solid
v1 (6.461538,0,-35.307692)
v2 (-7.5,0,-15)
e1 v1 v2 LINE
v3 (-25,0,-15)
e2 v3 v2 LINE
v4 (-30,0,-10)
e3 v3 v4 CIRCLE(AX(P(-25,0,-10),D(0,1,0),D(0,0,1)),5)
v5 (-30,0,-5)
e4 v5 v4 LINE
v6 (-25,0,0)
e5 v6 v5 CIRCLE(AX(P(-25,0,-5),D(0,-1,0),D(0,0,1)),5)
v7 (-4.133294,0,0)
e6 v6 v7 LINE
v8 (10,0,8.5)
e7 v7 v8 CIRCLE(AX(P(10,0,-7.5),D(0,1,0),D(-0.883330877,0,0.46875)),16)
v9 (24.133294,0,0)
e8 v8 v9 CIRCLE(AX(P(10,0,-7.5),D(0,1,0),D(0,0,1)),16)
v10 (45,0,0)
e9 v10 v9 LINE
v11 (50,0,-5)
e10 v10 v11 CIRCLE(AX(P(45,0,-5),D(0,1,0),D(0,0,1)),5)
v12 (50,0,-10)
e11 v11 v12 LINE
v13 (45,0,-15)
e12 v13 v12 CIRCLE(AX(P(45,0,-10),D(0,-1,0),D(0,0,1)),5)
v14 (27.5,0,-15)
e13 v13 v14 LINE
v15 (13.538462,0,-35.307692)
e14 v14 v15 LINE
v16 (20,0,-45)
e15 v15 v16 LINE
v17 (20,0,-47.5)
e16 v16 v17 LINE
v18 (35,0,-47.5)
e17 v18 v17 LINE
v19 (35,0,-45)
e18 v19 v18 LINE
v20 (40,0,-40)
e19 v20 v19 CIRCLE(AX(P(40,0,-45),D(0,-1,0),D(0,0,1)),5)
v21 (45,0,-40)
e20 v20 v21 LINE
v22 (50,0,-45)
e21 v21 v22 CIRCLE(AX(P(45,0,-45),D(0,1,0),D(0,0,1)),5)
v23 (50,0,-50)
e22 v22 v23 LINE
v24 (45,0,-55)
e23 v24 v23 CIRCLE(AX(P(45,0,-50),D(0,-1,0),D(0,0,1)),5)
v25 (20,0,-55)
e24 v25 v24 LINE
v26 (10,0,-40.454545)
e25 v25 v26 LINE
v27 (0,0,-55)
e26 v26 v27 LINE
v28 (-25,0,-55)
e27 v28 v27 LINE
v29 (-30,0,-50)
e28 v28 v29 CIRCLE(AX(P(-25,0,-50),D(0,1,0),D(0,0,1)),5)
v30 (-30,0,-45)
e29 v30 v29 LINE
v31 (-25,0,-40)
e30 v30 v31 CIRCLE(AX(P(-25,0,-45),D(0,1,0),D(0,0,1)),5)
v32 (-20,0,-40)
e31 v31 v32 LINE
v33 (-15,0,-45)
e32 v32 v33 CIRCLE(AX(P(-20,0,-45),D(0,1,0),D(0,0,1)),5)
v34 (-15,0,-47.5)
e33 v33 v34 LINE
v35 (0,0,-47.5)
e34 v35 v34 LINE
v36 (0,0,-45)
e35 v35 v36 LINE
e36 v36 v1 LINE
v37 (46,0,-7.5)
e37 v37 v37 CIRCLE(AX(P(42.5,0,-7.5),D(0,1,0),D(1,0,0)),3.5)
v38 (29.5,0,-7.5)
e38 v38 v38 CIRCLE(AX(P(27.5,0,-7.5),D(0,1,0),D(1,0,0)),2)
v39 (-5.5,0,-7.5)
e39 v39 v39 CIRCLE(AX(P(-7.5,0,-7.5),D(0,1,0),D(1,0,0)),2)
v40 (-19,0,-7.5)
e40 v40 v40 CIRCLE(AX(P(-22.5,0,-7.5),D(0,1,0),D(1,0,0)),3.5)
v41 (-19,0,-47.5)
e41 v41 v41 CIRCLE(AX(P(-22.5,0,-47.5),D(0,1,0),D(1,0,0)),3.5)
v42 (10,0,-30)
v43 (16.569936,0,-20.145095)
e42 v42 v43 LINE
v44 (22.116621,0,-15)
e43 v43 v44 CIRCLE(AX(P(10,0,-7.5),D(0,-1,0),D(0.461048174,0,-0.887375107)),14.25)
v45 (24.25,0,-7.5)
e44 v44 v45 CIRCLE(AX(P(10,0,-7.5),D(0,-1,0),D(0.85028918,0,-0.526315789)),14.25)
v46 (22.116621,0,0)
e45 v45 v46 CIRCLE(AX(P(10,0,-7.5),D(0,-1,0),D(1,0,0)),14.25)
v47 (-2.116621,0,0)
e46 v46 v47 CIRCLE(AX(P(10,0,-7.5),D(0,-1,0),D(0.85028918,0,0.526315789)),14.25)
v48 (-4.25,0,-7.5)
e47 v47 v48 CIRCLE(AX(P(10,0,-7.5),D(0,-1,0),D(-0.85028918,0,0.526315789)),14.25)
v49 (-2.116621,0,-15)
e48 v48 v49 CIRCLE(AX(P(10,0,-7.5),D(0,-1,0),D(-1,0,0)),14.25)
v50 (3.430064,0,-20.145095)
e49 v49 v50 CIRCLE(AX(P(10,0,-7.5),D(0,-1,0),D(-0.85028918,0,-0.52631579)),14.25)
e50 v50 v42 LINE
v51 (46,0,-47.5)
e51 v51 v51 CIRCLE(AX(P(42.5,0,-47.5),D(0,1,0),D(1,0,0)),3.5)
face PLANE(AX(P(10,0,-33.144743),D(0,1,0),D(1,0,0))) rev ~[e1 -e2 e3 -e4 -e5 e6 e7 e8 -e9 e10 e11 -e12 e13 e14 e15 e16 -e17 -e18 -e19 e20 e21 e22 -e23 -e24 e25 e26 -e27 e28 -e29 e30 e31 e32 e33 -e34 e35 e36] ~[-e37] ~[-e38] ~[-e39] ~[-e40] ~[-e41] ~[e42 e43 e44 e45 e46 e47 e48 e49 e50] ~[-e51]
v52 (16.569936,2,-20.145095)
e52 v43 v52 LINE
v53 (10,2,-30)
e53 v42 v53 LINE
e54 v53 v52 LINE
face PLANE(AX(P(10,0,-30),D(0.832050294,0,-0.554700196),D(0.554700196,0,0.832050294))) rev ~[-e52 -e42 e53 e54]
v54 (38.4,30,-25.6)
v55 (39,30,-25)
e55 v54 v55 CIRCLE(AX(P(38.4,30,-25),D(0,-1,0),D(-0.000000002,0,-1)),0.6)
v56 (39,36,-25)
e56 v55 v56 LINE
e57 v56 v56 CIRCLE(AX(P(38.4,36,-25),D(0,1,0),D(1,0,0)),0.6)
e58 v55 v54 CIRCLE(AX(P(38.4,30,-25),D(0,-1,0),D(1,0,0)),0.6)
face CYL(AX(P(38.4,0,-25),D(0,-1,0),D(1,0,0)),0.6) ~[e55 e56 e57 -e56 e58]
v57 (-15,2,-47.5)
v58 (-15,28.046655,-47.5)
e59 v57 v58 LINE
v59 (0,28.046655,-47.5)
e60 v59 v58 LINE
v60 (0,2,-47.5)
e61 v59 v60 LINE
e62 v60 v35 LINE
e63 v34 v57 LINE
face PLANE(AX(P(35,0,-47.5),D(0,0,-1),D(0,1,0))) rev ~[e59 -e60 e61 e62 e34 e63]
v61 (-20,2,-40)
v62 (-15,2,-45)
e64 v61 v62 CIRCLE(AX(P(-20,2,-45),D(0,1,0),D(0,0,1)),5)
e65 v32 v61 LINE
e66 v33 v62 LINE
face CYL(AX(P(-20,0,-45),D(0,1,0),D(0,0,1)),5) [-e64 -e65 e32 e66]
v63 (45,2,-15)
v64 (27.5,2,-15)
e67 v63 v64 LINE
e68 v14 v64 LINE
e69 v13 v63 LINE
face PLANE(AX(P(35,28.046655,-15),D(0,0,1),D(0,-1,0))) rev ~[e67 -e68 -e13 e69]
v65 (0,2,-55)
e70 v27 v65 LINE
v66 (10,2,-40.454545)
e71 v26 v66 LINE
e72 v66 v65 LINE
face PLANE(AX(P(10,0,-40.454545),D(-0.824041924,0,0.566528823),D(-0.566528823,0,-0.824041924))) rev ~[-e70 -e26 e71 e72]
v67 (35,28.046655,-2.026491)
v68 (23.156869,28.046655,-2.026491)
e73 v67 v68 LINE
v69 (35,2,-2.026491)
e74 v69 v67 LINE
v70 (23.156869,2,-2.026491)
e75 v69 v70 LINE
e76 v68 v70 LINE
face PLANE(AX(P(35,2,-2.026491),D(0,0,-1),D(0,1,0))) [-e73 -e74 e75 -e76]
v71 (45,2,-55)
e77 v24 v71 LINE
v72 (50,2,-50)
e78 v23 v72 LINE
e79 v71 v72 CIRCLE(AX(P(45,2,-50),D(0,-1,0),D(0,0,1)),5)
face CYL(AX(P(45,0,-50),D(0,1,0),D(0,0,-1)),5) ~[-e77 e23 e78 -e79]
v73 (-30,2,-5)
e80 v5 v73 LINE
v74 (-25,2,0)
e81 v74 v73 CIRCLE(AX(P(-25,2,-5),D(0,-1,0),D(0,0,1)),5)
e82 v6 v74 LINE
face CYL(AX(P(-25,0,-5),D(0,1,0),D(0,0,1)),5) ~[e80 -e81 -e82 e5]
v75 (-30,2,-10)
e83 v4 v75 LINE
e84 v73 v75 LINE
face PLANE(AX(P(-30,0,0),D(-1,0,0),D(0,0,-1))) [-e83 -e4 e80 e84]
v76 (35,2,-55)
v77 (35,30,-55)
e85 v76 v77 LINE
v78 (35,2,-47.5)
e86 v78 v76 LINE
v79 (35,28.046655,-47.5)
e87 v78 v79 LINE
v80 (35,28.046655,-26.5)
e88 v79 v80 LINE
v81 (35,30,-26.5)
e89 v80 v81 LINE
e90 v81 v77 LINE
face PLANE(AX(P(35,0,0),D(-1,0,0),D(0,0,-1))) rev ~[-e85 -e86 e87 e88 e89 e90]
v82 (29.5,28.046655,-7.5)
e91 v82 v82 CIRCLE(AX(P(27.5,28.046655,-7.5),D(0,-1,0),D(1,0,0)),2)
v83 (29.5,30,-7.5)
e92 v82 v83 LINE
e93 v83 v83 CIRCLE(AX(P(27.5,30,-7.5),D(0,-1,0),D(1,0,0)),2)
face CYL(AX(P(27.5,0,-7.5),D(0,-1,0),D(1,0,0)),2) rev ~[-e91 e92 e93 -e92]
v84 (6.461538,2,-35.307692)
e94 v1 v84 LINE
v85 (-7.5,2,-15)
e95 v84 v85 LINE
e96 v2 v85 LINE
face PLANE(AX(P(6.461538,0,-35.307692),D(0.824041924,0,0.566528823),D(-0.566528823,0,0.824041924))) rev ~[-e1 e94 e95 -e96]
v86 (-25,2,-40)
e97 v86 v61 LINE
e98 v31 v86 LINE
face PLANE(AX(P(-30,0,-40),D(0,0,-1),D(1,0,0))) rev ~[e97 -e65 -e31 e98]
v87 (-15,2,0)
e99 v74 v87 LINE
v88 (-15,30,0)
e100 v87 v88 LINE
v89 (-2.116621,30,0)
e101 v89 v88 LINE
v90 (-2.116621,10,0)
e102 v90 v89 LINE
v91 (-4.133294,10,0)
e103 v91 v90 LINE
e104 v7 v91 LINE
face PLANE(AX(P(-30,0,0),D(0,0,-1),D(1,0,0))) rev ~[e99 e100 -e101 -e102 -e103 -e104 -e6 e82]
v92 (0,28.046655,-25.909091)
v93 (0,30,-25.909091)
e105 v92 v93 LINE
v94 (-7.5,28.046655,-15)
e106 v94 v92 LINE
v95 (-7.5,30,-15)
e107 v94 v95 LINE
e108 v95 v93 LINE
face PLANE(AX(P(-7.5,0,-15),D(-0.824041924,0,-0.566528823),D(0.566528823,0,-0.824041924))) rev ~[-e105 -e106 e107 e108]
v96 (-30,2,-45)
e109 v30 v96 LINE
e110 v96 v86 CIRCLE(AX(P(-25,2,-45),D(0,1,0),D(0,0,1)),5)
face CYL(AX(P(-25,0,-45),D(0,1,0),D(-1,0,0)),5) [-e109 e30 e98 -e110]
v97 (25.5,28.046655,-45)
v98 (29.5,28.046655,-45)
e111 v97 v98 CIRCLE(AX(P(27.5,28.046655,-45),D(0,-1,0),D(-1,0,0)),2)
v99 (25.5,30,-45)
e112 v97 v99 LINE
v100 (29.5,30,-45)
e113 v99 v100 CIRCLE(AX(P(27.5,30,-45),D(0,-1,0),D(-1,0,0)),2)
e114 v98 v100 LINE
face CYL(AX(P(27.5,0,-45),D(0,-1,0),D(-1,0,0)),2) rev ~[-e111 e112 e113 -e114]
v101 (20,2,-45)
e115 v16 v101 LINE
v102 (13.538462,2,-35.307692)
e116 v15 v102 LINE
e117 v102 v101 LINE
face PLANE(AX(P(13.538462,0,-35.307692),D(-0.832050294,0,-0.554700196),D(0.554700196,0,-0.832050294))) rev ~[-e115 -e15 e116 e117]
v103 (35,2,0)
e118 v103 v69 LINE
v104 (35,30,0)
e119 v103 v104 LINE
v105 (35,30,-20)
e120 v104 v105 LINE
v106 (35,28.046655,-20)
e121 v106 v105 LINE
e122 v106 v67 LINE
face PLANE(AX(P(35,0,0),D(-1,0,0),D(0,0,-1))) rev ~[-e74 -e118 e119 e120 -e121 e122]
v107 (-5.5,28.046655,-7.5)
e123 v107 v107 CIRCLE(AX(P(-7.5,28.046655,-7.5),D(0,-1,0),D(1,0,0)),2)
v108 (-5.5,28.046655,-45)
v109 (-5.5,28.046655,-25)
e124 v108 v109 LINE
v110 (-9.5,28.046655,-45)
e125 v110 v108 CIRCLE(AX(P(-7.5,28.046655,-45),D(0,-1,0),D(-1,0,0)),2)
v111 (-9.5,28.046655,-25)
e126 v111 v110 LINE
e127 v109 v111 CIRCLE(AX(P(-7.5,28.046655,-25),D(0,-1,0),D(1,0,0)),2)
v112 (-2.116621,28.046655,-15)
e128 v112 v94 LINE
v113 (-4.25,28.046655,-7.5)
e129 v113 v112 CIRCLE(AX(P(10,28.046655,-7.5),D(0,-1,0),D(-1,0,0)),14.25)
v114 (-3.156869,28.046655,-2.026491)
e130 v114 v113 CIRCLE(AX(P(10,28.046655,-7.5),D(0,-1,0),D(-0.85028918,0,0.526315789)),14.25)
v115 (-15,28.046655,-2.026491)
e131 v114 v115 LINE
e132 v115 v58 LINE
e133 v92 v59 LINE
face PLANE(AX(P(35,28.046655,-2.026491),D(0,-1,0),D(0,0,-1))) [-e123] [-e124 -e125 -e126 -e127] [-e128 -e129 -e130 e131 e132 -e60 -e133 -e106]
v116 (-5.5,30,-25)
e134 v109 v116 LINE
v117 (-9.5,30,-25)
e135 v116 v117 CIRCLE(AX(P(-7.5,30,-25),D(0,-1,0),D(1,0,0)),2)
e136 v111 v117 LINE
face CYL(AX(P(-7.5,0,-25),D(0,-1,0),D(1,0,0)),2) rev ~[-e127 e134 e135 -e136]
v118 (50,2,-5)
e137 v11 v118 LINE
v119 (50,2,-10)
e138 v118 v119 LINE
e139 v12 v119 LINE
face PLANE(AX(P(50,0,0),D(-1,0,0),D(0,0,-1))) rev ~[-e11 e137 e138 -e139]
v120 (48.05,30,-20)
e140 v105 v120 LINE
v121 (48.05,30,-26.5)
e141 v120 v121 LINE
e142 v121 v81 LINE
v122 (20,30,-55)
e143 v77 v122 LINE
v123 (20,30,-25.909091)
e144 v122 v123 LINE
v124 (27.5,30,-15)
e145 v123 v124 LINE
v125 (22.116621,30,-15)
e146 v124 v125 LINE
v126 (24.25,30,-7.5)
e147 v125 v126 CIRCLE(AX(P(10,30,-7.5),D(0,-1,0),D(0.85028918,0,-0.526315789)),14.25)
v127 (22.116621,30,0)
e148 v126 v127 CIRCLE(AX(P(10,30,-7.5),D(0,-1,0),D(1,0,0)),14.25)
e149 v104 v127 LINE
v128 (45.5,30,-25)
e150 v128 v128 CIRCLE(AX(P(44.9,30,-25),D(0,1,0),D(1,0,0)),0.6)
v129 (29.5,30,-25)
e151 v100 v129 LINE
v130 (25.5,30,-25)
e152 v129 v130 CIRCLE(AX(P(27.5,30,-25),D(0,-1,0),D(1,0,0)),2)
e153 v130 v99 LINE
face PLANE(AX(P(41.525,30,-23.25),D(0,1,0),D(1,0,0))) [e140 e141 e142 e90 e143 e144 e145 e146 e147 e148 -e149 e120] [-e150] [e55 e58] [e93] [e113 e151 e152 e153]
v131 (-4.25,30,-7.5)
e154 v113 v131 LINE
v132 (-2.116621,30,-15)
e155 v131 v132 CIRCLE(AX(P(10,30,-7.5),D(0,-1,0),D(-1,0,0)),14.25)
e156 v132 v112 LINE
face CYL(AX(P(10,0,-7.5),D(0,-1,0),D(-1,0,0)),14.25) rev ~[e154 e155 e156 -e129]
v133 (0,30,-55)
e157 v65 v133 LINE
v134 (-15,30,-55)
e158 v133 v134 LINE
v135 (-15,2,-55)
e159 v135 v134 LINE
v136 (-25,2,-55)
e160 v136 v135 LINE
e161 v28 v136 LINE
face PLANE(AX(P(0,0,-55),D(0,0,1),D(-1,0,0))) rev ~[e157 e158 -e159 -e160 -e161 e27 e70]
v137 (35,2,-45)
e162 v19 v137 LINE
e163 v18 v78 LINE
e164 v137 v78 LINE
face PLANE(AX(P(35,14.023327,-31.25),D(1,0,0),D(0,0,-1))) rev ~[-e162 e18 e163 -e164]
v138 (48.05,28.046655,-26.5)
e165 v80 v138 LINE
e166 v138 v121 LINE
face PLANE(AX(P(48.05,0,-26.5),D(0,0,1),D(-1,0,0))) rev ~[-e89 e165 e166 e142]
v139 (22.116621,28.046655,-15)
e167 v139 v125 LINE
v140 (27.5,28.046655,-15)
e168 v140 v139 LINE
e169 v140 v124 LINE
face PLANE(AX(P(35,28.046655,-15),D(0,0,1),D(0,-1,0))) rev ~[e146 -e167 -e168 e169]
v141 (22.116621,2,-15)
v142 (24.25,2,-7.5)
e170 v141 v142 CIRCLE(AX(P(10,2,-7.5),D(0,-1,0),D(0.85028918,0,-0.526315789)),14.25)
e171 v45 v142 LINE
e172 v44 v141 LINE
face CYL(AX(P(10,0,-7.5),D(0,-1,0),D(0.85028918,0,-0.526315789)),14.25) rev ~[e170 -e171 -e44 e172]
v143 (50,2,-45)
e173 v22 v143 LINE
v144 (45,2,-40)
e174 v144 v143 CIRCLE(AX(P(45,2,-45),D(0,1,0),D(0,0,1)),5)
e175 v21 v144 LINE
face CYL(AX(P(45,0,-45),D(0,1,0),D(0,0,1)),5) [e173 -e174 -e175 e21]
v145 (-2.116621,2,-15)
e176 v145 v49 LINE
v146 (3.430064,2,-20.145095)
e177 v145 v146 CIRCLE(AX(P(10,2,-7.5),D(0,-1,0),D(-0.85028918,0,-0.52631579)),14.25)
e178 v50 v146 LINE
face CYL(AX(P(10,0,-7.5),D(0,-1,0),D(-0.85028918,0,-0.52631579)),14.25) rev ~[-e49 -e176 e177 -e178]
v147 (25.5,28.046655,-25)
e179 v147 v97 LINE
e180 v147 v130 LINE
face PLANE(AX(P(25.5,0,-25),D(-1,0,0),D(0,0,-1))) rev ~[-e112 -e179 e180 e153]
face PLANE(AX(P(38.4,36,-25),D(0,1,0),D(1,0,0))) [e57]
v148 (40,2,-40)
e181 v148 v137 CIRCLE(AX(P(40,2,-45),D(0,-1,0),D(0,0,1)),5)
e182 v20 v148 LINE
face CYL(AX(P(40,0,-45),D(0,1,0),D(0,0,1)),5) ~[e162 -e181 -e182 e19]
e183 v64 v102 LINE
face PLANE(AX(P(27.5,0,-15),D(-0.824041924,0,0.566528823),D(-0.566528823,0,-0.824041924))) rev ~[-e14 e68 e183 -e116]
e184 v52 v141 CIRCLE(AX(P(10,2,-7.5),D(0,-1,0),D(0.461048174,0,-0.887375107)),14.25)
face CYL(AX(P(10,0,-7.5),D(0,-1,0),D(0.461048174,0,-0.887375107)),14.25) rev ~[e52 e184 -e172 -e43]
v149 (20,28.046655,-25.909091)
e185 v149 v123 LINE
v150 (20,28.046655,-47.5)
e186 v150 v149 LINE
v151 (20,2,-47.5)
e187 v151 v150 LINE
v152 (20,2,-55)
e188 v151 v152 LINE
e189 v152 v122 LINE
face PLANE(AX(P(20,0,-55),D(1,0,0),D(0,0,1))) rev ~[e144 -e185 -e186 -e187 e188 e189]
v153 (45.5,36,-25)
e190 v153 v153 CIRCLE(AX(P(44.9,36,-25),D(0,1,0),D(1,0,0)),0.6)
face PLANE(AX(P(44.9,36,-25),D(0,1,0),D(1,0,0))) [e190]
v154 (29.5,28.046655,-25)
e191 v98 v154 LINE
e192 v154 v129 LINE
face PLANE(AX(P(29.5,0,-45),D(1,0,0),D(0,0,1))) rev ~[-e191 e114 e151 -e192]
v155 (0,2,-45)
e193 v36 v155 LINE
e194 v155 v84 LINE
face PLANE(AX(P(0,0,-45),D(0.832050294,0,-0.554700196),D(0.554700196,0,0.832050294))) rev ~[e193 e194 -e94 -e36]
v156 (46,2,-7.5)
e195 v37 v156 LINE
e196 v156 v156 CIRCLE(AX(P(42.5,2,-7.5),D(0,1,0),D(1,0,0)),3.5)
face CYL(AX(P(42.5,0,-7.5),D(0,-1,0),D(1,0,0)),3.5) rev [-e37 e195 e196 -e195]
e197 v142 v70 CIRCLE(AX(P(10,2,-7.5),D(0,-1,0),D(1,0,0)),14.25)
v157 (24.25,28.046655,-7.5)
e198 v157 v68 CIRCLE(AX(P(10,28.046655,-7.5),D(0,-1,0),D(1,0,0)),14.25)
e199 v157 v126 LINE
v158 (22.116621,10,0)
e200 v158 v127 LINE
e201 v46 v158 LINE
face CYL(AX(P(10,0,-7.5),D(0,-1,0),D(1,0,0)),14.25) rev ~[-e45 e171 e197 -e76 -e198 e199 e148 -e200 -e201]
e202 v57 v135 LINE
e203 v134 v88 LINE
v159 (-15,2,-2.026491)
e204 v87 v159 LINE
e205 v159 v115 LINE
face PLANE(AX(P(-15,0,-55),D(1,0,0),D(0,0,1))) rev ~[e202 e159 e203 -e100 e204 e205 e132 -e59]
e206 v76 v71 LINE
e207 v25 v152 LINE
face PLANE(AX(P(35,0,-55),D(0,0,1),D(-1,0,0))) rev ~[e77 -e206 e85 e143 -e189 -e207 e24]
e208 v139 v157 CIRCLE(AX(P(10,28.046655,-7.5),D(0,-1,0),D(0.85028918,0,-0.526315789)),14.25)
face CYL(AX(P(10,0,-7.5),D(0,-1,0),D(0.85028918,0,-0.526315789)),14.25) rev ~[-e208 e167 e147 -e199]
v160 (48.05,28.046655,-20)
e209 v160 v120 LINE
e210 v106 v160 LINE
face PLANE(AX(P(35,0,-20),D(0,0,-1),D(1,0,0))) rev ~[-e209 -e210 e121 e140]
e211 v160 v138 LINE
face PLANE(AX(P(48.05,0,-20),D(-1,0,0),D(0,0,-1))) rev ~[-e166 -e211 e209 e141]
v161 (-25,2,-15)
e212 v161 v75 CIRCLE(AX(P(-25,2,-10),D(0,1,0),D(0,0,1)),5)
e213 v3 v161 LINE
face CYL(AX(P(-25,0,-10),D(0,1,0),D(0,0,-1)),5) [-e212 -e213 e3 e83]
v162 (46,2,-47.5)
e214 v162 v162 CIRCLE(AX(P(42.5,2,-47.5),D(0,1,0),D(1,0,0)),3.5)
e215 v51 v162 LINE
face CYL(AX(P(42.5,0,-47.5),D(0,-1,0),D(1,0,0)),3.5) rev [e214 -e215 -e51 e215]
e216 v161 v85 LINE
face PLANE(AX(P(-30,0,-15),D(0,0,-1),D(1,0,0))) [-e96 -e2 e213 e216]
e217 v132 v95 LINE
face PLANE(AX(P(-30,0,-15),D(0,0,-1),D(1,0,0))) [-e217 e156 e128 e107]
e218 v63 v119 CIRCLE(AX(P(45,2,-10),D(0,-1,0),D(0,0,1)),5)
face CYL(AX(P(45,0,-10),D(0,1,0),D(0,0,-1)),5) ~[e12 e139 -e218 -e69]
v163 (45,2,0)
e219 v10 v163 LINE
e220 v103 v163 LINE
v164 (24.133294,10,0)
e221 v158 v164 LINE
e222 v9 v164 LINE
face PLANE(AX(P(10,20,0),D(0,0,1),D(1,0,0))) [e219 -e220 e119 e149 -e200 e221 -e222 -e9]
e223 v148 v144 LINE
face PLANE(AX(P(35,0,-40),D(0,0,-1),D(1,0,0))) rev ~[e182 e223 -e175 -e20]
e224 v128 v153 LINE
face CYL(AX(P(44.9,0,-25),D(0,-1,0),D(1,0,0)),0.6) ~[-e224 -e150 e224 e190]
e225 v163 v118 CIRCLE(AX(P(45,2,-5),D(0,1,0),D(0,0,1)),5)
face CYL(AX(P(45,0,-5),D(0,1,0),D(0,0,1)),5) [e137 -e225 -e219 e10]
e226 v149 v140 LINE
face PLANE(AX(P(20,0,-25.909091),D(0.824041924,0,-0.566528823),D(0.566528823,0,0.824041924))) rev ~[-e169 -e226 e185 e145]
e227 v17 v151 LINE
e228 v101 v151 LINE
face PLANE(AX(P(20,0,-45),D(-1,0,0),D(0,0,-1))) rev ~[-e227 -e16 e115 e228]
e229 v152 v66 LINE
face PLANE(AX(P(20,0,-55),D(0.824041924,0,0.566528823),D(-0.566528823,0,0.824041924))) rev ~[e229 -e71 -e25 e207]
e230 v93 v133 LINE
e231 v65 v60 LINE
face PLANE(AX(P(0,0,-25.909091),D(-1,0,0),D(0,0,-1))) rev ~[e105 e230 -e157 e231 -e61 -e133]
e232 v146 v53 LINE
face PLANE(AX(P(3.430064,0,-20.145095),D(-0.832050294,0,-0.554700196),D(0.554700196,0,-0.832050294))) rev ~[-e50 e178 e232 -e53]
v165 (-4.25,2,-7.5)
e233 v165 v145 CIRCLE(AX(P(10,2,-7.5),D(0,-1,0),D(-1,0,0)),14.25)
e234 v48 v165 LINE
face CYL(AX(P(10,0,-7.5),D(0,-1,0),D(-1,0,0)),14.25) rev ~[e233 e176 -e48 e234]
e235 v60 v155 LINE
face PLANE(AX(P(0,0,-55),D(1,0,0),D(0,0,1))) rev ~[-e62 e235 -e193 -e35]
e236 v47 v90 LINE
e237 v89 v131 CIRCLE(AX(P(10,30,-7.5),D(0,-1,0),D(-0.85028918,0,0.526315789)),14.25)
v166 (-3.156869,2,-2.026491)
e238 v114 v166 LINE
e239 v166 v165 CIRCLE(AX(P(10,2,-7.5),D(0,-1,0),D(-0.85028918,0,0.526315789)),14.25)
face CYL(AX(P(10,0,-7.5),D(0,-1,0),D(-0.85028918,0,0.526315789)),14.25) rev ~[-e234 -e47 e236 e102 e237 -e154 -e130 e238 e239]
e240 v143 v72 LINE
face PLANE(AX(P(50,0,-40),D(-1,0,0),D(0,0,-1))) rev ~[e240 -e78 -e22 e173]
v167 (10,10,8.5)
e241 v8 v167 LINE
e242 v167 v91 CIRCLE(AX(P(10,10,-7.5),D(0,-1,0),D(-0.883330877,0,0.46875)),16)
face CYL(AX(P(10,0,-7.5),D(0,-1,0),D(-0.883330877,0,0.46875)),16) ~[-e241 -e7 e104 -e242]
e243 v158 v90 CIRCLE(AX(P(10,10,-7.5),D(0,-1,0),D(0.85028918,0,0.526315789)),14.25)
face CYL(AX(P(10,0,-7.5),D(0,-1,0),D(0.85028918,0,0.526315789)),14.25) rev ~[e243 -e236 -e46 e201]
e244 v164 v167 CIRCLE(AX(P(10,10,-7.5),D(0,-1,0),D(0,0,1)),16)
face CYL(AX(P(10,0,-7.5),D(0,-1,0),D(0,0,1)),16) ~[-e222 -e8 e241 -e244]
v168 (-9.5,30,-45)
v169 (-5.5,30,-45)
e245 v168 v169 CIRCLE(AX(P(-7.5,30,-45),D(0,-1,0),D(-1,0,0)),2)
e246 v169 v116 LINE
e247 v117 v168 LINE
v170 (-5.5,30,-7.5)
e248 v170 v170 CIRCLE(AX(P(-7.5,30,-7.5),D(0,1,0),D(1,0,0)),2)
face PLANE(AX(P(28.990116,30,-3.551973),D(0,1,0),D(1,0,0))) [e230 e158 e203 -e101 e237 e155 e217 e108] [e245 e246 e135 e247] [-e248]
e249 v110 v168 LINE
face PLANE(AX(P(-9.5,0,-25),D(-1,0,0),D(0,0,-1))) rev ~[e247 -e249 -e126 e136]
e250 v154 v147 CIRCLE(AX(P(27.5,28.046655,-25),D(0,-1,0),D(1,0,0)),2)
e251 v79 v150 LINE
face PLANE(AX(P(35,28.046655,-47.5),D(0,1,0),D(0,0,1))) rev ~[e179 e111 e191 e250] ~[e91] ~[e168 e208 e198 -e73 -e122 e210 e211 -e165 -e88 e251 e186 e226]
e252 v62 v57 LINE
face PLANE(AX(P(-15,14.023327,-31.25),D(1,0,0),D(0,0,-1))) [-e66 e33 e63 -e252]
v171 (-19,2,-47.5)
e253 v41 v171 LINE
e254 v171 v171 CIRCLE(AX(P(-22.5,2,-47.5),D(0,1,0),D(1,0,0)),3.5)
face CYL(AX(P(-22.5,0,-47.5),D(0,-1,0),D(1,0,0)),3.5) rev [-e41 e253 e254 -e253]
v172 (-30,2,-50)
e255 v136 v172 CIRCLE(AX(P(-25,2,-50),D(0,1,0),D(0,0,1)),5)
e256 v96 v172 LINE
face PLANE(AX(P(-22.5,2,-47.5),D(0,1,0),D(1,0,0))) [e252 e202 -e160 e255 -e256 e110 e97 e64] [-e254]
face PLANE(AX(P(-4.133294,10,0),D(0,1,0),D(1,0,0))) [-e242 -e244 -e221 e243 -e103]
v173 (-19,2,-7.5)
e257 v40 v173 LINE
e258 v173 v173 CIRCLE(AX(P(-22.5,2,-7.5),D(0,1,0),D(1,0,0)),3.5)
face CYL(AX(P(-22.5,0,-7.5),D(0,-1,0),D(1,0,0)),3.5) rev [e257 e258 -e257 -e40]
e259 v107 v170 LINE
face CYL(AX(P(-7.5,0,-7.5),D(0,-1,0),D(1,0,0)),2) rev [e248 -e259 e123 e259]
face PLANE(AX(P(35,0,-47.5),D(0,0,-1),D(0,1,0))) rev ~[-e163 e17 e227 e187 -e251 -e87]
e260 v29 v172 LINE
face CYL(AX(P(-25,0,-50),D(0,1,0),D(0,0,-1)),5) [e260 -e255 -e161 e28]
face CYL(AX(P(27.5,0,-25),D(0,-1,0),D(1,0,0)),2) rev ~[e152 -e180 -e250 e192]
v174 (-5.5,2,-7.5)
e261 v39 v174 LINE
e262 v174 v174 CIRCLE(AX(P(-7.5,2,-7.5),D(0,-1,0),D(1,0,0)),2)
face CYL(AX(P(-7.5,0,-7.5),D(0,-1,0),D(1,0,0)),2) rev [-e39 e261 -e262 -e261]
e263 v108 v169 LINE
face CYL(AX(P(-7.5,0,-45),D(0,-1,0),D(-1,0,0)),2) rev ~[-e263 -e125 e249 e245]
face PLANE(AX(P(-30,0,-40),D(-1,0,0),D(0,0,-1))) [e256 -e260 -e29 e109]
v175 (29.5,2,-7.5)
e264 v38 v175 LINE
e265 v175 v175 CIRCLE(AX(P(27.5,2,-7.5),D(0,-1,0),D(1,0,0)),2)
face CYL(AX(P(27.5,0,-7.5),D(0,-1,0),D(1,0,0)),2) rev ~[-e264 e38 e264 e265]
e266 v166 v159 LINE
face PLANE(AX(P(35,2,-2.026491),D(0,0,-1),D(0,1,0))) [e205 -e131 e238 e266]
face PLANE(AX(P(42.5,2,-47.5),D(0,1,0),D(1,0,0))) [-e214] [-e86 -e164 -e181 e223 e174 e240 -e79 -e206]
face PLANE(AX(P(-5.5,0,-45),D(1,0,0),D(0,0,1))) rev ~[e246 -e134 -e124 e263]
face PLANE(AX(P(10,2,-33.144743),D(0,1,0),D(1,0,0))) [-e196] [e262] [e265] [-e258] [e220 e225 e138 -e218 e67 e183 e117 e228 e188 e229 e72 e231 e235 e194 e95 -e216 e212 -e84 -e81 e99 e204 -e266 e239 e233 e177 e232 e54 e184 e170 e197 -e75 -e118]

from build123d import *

# Parameters (mm, degrees)
SKETCH1_R             = 2
BOSS_EXTRUDE3_DEPTH   = 30
BOSS_EXTRUDE3_2_DEPTH = 30
SKETCH1_6_W           = 15
SKETCH1_6_H           = 15
SKETCH1_6_R           = 3.5
BOSS_EXTRUDE5_DEPTH   = 2
BOSS_EXTRUDE7_DEPTH   = 30
BOSS_EXTRUDE8_DEPTH   = 30
SKETCH6_W             = 28.26658805
SKETCH6_H             = 20
CUT_EXTRUDE2_DEPTH    = 9
SKETCH1_11_R          = 0.6
BOSS_EXTRUDE9_DEPTH   = 36
BOSS_EXTRUDE9_2_DEPTH = 36
SKETCH1_12_R          = 0.6
BOSS_EXTRUDE10_DEPTH  = 30
SKETCH8_W             = 13.05
SKETCH8_H             = 28.046654986
CUT_EXTRUDE3_DEPTH    = 7
CUT_EXTRUDE8_DEPTH    = 50
FILLET2_R             = 5
SKETCH11_W            = 12.973509336
SKETCH11_H            = 26.046654986
CUT_EXTRUDE9_DEPTH    = 52
BOSS_EXTRUDE11_DEPTH  = 2


with BuildPart() as part:
    # Sketch1 → Boss-Extrude3 (new body)
    with BuildSketch(Plane(origin=(0, 0, 0), x_dir=(1, 0, 0), z_dir=(0, 1, 0))):
        with BuildLine():
            Line((-15, 0), (-2.116620816, 0))
            ThreePointArc((-2.116620816, 0), (-3.706282257, 3.601240366), (-4.25, 7.5))
            ThreePointArc((-4.25, 7.5), (-3.706282257, 11.398759634), (-2.116620816, 15))
            Line((-2.116620816, 15), (-7.5, 15))
            Line((-7.5, 15), (0, 25.909090909))
            Line((0, 25.909090909), (0, 55))
            Line((0, 55), (-15, 55))
            Line((-15, 55), (-15, 0))
        make_face()
        with Locations((-7.5, 7.5)):
            Circle(SKETCH1_R, mode=Mode.SUBTRACT)
        with BuildLine():
            ThreePointArc((-9.5, 45), (-7.5, 47), (-5.5, 45))
            Line((-5.5, 45), (-5.5, 25))
            ThreePointArc((-5.5, 25), (-7.5, 23), (-9.5, 25))
            Line((-9.5, 25), (-9.5, 45))
        make_face(mode=Mode.SUBTRACT)
    extrude(amount=BOSS_EXTRUDE3_DEPTH)



with BuildPart() as body_2:
    # Sketch1 → Boss-Extrude3 2 (new body)
    with BuildSketch(Plane(origin=(0, 0, 0), x_dir=(1, 0, 0), z_dir=(0, 1, 0))):
        with BuildLine():
            ThreePointArc((22.116620816, 15), (23.706282257, 11.398759634), (24.25, 7.5))
            Line((24.25, 7.5), (25.5, 7.5))
            ThreePointArc((25.5, 7.5), (27.5, 9.5), (29.5, 7.5))
            Line((29.5, 7.5), (35, 7.5))
            Line((35, 7.5), (35, 55))
            Line((35, 55), (20, 55))
            Line((20, 55), (20, 25.909090909))
            Line((20, 25.909090909), (27.5, 15))
            Line((27.5, 15), (22.116620816, 15))
        make_face()
        with BuildLine():
            ThreePointArc((29.5, 25), (27.5, 23), (25.5, 25))
            Line((25.5, 25), (25.5, 45))
            ThreePointArc((25.5, 45), (27.5, 47), (29.5, 45))
            Line((29.5, 45), (29.5, 25))
        make_face(mode=Mode.SUBTRACT)
    extrude(amount=BOSS_EXTRUDE3_2_DEPTH)


with BuildPart() as part_1:
    add(part.part)

    add(body_2.part)  # Boss-Extrude5 merges body 2
    # Sketch1<6> → Boss-Extrude5 (add)
    # profile 1 of 4: a face of its own
    with BuildSketch(Plane(origin=(0, 0, 0), x_dir=(1, 0, 0), z_dir=(0, 1, 0))):
        with Locations((-22.5, 7.5)):
            Rectangle(SKETCH1_6_W, SKETCH1_6_H)
        with Locations((-22.5, 7.5)):
            Circle(SKETCH1_6_R, mode=Mode.SUBTRACT)
    # profile 2 of 4: a face of its own
    with BuildSketch(Plane(origin=(0, 0, 0), x_dir=(1, 0, 0), z_dir=(0, 1, 0))):
        with Locations((42.5, 7.5)):
            Rectangle(SKETCH1_6_W, SKETCH1_6_H)
        with Locations((42.5, 7.5)):
            Circle(SKETCH1_6_R, mode=Mode.SUBTRACT)
    # profile 3 of 4: a face of its own
    with BuildSketch(Plane(origin=(0, 0, 0), x_dir=(1, 0, 0), z_dir=(0, 1, 0))):
        with Locations((-22.5, 47.5)):
            Rectangle(SKETCH1_6_W, SKETCH1_6_H)
        with Locations((-22.5, 47.5)):
            Circle(SKETCH1_6_R, mode=Mode.SUBTRACT)
    # profile 4 of 4: a face of its own
    with BuildSketch(Plane(origin=(0, 0, 0), x_dir=(1, 0, 0), z_dir=(0, 1, 0))):
        with Locations((42.5, 47.5)):
            Rectangle(SKETCH1_6_W, SKETCH1_6_H)
        with Locations((42.5, 47.5)):
            Circle(SKETCH1_6_R, mode=Mode.SUBTRACT)
    extrude(amount=BOSS_EXTRUDE5_DEPTH)

    # Sketch1<8> → Boss-Extrude7 (add)
    with BuildSketch(Plane(origin=(0, 0, 0), x_dir=(1, 0, 0), z_dir=(0, 1, 0))):
        with BuildLine():
            Line((-2.116620816, 0), (-4.133294025, 0))
            ThreePointArc((-4.133294025, 0), (1.753788749, -6.211309201), (10, -8.5))
            ThreePointArc((10, -8.5), (18.246211251, -6.211309201), (24.133294025, 0))
            Line((24.133294025, 0), (22.116620816, 0))
            ThreePointArc((22.116620816, 0), (10, -6.75), (-2.116620816, 0))
        make_face()
    extrude(amount=BOSS_EXTRUDE7_DEPTH)

    # Sketch1<9> → Boss-Extrude8 (add)
    with BuildSketch(Plane(origin=(0, 0, 0), x_dir=(1, 0, 0), z_dir=(0, 1, 0))):
        with BuildLine():
            ThreePointArc((24.25, 7.5), (23.706282257, 3.601240366), (22.116620816, 0))
            Line((22.116620816, 0), (24.133294025, 0))
            Line((24.133294025, 0), (35, 0))
            Line((35, 0), (35, 7.5))
            Line((35, 7.5), (29.5, 7.5))
            ThreePointArc((29.5, 7.5), (27.5, 5.5), (25.5, 7.5))
            Line((25.5, 7.5), (24.25, 7.5))
        make_face()
    extrude(amount=BOSS_EXTRUDE8_DEPTH)

    # Sketch6 → Cut-Extrude2 (cut)
    with BuildSketch(Plane.XY):
        with Locations((10, 20)):
            Rectangle(SKETCH6_W, SKETCH6_H)
    extrude(amount=CUT_EXTRUDE2_DEPTH, mode=Mode.SUBTRACT)



with BuildPart() as body_2_2:
    # Sketch1<11> → Boss-Extrude9 (new body)
    with BuildSketch(Plane(origin=(0, 0, 0), x_dir=(1, 0, 0), z_dir=(0, 1, 0))):
        with Locations((44.9, 25)):
            Circle(SKETCH1_11_R)
    extrude(amount=BOSS_EXTRUDE9_DEPTH)


with BuildPart() as body_3:
    # Sketch1<11> → Boss-Extrude9 2 (new body)
    with BuildSketch(Plane(origin=(0, 0, 0), x_dir=(1, 0, 0), z_dir=(0, 1, 0))):
        with Locations((38.4, 25)):
            Circle(SKETCH1_11_R)
    extrude(amount=BOSS_EXTRUDE9_2_DEPTH)


with BuildPart() as part_2:
    add(part_1.part)

    add(body_2_2.part)  # Boss-Extrude10 merges body 2 2

    add(body_3.part)  # Boss-Extrude10 merges body 3
    # Sketch1<12> → Boss-Extrude10 (add)
    with BuildSketch(Plane(origin=(0, 0, 0), x_dir=(1, 0, 0), z_dir=(0, 1, 0))):
        Polygon((35, 26.5), (35, 20), (48.05, 20), (48.05, 26.5), (38.4, 26.5), align=None)
        with BuildLine():
            ThreePointArc((39, 25), (37.975735931, 24.575735931), (38.4, 25.6))
            ThreePointArc((38.4, 25.6), (38.824264069, 25.424264069), (39, 25))
        make_face(mode=Mode.SUBTRACT)
        with Locations((44.9, 25)):
            Circle(SKETCH1_12_R, mode=Mode.SUBTRACT)
    extrude(amount=BOSS_EXTRUDE10_DEPTH)

    # Sketch8 → Cut-Extrude3 (cut)
    with BuildSketch(Plane.XY.offset(-20)):
        with Locations((41.525, 14.023327493)):
            Rectangle(SKETCH8_W, SKETCH8_H)
    extrude(amount=-CUT_EXTRUDE3_DEPTH, mode=Mode.SUBTRACT)

    # Sketch10 → Cut-Extrude8 (cut)
    with BuildSketch(Plane(origin=(35, 0, 0), x_dir=(0, 0, -1), z_dir=(1, 0, 0))):
        Polygon((15, 2), (15, 0), (40, 0), (47.5, 0), (47.5, 28.046654986), (15, 28.046654986), align=None)
    extrude(amount=-CUT_EXTRUDE8_DEPTH, mode=Mode.SUBTRACT)

    # Fillet2
    fillet2_edges = [part_2.edges().sort_by_distance(p)[0] for p in [
        (-30, 1, -15),
        (-30, 1, -40),
        (-30, 1, -55),
        (-15, 1, -40),
        (-30, 1, 0),
        (50, 1, 0),
        (50, 1, -15),
        (35, 1, -40),
        (50, 1, -40),
        (50, 1, -55),
    ]]
    fillet(fillet2_edges, radius=FILLET2_R)

    # Sketch11 → Cut-Extrude9 (cut)
    with BuildSketch(Plane(origin=(35, 0, 0), x_dir=(0, 0, -1), z_dir=(1, 0, 0))):
        with Locations((8.513245332, 15.023327493)):
            Rectangle(SKETCH11_W, SKETCH11_H)
    extrude(amount=-CUT_EXTRUDE9_DEPTH, mode=Mode.SUBTRACT)

    # Sketch1<13> → Boss-Extrude11 (add)
    with BuildSketch(Plane(origin=(0, 0, 0), x_dir=(1, 0, 0), z_dir=(0, 1, 0))):
        with BuildLine():
            Line((-7.5, 15), (-2.116620816, 15))
            ThreePointArc((-2.116620816, 15), (0.309032182, 17.947374921), (3.43006352, 20.145095281))
            Line((3.43006352, 20.145095281), (10, 30))
            Line((10, 30), (16.56993648, 20.145095281))
            ThreePointArc((16.56993648, 20.145095281), (19.690967818, 17.947374921), (22.116620816, 15))
            Line((22.116620816, 15), (27.5, 15))
            Line((27.5, 15), (13.538461538, 35.307692308))
            Line((13.538461538, 35.307692308), (20, 45))
            Line((20, 45), (20, 55))
            Line((20, 55), (10, 40.454545455))
            Line((10, 40.454545455), (0, 55))
            Line((0, 55), (0, 45))
            Line((0, 45), (6.461538462, 35.307692308))
            Line((6.461538462, 35.307692308), (-7.5, 15))
        make_face()
    extrude(amount=BOSS_EXTRUDE11_DEPTH)


solid = part_2.part
